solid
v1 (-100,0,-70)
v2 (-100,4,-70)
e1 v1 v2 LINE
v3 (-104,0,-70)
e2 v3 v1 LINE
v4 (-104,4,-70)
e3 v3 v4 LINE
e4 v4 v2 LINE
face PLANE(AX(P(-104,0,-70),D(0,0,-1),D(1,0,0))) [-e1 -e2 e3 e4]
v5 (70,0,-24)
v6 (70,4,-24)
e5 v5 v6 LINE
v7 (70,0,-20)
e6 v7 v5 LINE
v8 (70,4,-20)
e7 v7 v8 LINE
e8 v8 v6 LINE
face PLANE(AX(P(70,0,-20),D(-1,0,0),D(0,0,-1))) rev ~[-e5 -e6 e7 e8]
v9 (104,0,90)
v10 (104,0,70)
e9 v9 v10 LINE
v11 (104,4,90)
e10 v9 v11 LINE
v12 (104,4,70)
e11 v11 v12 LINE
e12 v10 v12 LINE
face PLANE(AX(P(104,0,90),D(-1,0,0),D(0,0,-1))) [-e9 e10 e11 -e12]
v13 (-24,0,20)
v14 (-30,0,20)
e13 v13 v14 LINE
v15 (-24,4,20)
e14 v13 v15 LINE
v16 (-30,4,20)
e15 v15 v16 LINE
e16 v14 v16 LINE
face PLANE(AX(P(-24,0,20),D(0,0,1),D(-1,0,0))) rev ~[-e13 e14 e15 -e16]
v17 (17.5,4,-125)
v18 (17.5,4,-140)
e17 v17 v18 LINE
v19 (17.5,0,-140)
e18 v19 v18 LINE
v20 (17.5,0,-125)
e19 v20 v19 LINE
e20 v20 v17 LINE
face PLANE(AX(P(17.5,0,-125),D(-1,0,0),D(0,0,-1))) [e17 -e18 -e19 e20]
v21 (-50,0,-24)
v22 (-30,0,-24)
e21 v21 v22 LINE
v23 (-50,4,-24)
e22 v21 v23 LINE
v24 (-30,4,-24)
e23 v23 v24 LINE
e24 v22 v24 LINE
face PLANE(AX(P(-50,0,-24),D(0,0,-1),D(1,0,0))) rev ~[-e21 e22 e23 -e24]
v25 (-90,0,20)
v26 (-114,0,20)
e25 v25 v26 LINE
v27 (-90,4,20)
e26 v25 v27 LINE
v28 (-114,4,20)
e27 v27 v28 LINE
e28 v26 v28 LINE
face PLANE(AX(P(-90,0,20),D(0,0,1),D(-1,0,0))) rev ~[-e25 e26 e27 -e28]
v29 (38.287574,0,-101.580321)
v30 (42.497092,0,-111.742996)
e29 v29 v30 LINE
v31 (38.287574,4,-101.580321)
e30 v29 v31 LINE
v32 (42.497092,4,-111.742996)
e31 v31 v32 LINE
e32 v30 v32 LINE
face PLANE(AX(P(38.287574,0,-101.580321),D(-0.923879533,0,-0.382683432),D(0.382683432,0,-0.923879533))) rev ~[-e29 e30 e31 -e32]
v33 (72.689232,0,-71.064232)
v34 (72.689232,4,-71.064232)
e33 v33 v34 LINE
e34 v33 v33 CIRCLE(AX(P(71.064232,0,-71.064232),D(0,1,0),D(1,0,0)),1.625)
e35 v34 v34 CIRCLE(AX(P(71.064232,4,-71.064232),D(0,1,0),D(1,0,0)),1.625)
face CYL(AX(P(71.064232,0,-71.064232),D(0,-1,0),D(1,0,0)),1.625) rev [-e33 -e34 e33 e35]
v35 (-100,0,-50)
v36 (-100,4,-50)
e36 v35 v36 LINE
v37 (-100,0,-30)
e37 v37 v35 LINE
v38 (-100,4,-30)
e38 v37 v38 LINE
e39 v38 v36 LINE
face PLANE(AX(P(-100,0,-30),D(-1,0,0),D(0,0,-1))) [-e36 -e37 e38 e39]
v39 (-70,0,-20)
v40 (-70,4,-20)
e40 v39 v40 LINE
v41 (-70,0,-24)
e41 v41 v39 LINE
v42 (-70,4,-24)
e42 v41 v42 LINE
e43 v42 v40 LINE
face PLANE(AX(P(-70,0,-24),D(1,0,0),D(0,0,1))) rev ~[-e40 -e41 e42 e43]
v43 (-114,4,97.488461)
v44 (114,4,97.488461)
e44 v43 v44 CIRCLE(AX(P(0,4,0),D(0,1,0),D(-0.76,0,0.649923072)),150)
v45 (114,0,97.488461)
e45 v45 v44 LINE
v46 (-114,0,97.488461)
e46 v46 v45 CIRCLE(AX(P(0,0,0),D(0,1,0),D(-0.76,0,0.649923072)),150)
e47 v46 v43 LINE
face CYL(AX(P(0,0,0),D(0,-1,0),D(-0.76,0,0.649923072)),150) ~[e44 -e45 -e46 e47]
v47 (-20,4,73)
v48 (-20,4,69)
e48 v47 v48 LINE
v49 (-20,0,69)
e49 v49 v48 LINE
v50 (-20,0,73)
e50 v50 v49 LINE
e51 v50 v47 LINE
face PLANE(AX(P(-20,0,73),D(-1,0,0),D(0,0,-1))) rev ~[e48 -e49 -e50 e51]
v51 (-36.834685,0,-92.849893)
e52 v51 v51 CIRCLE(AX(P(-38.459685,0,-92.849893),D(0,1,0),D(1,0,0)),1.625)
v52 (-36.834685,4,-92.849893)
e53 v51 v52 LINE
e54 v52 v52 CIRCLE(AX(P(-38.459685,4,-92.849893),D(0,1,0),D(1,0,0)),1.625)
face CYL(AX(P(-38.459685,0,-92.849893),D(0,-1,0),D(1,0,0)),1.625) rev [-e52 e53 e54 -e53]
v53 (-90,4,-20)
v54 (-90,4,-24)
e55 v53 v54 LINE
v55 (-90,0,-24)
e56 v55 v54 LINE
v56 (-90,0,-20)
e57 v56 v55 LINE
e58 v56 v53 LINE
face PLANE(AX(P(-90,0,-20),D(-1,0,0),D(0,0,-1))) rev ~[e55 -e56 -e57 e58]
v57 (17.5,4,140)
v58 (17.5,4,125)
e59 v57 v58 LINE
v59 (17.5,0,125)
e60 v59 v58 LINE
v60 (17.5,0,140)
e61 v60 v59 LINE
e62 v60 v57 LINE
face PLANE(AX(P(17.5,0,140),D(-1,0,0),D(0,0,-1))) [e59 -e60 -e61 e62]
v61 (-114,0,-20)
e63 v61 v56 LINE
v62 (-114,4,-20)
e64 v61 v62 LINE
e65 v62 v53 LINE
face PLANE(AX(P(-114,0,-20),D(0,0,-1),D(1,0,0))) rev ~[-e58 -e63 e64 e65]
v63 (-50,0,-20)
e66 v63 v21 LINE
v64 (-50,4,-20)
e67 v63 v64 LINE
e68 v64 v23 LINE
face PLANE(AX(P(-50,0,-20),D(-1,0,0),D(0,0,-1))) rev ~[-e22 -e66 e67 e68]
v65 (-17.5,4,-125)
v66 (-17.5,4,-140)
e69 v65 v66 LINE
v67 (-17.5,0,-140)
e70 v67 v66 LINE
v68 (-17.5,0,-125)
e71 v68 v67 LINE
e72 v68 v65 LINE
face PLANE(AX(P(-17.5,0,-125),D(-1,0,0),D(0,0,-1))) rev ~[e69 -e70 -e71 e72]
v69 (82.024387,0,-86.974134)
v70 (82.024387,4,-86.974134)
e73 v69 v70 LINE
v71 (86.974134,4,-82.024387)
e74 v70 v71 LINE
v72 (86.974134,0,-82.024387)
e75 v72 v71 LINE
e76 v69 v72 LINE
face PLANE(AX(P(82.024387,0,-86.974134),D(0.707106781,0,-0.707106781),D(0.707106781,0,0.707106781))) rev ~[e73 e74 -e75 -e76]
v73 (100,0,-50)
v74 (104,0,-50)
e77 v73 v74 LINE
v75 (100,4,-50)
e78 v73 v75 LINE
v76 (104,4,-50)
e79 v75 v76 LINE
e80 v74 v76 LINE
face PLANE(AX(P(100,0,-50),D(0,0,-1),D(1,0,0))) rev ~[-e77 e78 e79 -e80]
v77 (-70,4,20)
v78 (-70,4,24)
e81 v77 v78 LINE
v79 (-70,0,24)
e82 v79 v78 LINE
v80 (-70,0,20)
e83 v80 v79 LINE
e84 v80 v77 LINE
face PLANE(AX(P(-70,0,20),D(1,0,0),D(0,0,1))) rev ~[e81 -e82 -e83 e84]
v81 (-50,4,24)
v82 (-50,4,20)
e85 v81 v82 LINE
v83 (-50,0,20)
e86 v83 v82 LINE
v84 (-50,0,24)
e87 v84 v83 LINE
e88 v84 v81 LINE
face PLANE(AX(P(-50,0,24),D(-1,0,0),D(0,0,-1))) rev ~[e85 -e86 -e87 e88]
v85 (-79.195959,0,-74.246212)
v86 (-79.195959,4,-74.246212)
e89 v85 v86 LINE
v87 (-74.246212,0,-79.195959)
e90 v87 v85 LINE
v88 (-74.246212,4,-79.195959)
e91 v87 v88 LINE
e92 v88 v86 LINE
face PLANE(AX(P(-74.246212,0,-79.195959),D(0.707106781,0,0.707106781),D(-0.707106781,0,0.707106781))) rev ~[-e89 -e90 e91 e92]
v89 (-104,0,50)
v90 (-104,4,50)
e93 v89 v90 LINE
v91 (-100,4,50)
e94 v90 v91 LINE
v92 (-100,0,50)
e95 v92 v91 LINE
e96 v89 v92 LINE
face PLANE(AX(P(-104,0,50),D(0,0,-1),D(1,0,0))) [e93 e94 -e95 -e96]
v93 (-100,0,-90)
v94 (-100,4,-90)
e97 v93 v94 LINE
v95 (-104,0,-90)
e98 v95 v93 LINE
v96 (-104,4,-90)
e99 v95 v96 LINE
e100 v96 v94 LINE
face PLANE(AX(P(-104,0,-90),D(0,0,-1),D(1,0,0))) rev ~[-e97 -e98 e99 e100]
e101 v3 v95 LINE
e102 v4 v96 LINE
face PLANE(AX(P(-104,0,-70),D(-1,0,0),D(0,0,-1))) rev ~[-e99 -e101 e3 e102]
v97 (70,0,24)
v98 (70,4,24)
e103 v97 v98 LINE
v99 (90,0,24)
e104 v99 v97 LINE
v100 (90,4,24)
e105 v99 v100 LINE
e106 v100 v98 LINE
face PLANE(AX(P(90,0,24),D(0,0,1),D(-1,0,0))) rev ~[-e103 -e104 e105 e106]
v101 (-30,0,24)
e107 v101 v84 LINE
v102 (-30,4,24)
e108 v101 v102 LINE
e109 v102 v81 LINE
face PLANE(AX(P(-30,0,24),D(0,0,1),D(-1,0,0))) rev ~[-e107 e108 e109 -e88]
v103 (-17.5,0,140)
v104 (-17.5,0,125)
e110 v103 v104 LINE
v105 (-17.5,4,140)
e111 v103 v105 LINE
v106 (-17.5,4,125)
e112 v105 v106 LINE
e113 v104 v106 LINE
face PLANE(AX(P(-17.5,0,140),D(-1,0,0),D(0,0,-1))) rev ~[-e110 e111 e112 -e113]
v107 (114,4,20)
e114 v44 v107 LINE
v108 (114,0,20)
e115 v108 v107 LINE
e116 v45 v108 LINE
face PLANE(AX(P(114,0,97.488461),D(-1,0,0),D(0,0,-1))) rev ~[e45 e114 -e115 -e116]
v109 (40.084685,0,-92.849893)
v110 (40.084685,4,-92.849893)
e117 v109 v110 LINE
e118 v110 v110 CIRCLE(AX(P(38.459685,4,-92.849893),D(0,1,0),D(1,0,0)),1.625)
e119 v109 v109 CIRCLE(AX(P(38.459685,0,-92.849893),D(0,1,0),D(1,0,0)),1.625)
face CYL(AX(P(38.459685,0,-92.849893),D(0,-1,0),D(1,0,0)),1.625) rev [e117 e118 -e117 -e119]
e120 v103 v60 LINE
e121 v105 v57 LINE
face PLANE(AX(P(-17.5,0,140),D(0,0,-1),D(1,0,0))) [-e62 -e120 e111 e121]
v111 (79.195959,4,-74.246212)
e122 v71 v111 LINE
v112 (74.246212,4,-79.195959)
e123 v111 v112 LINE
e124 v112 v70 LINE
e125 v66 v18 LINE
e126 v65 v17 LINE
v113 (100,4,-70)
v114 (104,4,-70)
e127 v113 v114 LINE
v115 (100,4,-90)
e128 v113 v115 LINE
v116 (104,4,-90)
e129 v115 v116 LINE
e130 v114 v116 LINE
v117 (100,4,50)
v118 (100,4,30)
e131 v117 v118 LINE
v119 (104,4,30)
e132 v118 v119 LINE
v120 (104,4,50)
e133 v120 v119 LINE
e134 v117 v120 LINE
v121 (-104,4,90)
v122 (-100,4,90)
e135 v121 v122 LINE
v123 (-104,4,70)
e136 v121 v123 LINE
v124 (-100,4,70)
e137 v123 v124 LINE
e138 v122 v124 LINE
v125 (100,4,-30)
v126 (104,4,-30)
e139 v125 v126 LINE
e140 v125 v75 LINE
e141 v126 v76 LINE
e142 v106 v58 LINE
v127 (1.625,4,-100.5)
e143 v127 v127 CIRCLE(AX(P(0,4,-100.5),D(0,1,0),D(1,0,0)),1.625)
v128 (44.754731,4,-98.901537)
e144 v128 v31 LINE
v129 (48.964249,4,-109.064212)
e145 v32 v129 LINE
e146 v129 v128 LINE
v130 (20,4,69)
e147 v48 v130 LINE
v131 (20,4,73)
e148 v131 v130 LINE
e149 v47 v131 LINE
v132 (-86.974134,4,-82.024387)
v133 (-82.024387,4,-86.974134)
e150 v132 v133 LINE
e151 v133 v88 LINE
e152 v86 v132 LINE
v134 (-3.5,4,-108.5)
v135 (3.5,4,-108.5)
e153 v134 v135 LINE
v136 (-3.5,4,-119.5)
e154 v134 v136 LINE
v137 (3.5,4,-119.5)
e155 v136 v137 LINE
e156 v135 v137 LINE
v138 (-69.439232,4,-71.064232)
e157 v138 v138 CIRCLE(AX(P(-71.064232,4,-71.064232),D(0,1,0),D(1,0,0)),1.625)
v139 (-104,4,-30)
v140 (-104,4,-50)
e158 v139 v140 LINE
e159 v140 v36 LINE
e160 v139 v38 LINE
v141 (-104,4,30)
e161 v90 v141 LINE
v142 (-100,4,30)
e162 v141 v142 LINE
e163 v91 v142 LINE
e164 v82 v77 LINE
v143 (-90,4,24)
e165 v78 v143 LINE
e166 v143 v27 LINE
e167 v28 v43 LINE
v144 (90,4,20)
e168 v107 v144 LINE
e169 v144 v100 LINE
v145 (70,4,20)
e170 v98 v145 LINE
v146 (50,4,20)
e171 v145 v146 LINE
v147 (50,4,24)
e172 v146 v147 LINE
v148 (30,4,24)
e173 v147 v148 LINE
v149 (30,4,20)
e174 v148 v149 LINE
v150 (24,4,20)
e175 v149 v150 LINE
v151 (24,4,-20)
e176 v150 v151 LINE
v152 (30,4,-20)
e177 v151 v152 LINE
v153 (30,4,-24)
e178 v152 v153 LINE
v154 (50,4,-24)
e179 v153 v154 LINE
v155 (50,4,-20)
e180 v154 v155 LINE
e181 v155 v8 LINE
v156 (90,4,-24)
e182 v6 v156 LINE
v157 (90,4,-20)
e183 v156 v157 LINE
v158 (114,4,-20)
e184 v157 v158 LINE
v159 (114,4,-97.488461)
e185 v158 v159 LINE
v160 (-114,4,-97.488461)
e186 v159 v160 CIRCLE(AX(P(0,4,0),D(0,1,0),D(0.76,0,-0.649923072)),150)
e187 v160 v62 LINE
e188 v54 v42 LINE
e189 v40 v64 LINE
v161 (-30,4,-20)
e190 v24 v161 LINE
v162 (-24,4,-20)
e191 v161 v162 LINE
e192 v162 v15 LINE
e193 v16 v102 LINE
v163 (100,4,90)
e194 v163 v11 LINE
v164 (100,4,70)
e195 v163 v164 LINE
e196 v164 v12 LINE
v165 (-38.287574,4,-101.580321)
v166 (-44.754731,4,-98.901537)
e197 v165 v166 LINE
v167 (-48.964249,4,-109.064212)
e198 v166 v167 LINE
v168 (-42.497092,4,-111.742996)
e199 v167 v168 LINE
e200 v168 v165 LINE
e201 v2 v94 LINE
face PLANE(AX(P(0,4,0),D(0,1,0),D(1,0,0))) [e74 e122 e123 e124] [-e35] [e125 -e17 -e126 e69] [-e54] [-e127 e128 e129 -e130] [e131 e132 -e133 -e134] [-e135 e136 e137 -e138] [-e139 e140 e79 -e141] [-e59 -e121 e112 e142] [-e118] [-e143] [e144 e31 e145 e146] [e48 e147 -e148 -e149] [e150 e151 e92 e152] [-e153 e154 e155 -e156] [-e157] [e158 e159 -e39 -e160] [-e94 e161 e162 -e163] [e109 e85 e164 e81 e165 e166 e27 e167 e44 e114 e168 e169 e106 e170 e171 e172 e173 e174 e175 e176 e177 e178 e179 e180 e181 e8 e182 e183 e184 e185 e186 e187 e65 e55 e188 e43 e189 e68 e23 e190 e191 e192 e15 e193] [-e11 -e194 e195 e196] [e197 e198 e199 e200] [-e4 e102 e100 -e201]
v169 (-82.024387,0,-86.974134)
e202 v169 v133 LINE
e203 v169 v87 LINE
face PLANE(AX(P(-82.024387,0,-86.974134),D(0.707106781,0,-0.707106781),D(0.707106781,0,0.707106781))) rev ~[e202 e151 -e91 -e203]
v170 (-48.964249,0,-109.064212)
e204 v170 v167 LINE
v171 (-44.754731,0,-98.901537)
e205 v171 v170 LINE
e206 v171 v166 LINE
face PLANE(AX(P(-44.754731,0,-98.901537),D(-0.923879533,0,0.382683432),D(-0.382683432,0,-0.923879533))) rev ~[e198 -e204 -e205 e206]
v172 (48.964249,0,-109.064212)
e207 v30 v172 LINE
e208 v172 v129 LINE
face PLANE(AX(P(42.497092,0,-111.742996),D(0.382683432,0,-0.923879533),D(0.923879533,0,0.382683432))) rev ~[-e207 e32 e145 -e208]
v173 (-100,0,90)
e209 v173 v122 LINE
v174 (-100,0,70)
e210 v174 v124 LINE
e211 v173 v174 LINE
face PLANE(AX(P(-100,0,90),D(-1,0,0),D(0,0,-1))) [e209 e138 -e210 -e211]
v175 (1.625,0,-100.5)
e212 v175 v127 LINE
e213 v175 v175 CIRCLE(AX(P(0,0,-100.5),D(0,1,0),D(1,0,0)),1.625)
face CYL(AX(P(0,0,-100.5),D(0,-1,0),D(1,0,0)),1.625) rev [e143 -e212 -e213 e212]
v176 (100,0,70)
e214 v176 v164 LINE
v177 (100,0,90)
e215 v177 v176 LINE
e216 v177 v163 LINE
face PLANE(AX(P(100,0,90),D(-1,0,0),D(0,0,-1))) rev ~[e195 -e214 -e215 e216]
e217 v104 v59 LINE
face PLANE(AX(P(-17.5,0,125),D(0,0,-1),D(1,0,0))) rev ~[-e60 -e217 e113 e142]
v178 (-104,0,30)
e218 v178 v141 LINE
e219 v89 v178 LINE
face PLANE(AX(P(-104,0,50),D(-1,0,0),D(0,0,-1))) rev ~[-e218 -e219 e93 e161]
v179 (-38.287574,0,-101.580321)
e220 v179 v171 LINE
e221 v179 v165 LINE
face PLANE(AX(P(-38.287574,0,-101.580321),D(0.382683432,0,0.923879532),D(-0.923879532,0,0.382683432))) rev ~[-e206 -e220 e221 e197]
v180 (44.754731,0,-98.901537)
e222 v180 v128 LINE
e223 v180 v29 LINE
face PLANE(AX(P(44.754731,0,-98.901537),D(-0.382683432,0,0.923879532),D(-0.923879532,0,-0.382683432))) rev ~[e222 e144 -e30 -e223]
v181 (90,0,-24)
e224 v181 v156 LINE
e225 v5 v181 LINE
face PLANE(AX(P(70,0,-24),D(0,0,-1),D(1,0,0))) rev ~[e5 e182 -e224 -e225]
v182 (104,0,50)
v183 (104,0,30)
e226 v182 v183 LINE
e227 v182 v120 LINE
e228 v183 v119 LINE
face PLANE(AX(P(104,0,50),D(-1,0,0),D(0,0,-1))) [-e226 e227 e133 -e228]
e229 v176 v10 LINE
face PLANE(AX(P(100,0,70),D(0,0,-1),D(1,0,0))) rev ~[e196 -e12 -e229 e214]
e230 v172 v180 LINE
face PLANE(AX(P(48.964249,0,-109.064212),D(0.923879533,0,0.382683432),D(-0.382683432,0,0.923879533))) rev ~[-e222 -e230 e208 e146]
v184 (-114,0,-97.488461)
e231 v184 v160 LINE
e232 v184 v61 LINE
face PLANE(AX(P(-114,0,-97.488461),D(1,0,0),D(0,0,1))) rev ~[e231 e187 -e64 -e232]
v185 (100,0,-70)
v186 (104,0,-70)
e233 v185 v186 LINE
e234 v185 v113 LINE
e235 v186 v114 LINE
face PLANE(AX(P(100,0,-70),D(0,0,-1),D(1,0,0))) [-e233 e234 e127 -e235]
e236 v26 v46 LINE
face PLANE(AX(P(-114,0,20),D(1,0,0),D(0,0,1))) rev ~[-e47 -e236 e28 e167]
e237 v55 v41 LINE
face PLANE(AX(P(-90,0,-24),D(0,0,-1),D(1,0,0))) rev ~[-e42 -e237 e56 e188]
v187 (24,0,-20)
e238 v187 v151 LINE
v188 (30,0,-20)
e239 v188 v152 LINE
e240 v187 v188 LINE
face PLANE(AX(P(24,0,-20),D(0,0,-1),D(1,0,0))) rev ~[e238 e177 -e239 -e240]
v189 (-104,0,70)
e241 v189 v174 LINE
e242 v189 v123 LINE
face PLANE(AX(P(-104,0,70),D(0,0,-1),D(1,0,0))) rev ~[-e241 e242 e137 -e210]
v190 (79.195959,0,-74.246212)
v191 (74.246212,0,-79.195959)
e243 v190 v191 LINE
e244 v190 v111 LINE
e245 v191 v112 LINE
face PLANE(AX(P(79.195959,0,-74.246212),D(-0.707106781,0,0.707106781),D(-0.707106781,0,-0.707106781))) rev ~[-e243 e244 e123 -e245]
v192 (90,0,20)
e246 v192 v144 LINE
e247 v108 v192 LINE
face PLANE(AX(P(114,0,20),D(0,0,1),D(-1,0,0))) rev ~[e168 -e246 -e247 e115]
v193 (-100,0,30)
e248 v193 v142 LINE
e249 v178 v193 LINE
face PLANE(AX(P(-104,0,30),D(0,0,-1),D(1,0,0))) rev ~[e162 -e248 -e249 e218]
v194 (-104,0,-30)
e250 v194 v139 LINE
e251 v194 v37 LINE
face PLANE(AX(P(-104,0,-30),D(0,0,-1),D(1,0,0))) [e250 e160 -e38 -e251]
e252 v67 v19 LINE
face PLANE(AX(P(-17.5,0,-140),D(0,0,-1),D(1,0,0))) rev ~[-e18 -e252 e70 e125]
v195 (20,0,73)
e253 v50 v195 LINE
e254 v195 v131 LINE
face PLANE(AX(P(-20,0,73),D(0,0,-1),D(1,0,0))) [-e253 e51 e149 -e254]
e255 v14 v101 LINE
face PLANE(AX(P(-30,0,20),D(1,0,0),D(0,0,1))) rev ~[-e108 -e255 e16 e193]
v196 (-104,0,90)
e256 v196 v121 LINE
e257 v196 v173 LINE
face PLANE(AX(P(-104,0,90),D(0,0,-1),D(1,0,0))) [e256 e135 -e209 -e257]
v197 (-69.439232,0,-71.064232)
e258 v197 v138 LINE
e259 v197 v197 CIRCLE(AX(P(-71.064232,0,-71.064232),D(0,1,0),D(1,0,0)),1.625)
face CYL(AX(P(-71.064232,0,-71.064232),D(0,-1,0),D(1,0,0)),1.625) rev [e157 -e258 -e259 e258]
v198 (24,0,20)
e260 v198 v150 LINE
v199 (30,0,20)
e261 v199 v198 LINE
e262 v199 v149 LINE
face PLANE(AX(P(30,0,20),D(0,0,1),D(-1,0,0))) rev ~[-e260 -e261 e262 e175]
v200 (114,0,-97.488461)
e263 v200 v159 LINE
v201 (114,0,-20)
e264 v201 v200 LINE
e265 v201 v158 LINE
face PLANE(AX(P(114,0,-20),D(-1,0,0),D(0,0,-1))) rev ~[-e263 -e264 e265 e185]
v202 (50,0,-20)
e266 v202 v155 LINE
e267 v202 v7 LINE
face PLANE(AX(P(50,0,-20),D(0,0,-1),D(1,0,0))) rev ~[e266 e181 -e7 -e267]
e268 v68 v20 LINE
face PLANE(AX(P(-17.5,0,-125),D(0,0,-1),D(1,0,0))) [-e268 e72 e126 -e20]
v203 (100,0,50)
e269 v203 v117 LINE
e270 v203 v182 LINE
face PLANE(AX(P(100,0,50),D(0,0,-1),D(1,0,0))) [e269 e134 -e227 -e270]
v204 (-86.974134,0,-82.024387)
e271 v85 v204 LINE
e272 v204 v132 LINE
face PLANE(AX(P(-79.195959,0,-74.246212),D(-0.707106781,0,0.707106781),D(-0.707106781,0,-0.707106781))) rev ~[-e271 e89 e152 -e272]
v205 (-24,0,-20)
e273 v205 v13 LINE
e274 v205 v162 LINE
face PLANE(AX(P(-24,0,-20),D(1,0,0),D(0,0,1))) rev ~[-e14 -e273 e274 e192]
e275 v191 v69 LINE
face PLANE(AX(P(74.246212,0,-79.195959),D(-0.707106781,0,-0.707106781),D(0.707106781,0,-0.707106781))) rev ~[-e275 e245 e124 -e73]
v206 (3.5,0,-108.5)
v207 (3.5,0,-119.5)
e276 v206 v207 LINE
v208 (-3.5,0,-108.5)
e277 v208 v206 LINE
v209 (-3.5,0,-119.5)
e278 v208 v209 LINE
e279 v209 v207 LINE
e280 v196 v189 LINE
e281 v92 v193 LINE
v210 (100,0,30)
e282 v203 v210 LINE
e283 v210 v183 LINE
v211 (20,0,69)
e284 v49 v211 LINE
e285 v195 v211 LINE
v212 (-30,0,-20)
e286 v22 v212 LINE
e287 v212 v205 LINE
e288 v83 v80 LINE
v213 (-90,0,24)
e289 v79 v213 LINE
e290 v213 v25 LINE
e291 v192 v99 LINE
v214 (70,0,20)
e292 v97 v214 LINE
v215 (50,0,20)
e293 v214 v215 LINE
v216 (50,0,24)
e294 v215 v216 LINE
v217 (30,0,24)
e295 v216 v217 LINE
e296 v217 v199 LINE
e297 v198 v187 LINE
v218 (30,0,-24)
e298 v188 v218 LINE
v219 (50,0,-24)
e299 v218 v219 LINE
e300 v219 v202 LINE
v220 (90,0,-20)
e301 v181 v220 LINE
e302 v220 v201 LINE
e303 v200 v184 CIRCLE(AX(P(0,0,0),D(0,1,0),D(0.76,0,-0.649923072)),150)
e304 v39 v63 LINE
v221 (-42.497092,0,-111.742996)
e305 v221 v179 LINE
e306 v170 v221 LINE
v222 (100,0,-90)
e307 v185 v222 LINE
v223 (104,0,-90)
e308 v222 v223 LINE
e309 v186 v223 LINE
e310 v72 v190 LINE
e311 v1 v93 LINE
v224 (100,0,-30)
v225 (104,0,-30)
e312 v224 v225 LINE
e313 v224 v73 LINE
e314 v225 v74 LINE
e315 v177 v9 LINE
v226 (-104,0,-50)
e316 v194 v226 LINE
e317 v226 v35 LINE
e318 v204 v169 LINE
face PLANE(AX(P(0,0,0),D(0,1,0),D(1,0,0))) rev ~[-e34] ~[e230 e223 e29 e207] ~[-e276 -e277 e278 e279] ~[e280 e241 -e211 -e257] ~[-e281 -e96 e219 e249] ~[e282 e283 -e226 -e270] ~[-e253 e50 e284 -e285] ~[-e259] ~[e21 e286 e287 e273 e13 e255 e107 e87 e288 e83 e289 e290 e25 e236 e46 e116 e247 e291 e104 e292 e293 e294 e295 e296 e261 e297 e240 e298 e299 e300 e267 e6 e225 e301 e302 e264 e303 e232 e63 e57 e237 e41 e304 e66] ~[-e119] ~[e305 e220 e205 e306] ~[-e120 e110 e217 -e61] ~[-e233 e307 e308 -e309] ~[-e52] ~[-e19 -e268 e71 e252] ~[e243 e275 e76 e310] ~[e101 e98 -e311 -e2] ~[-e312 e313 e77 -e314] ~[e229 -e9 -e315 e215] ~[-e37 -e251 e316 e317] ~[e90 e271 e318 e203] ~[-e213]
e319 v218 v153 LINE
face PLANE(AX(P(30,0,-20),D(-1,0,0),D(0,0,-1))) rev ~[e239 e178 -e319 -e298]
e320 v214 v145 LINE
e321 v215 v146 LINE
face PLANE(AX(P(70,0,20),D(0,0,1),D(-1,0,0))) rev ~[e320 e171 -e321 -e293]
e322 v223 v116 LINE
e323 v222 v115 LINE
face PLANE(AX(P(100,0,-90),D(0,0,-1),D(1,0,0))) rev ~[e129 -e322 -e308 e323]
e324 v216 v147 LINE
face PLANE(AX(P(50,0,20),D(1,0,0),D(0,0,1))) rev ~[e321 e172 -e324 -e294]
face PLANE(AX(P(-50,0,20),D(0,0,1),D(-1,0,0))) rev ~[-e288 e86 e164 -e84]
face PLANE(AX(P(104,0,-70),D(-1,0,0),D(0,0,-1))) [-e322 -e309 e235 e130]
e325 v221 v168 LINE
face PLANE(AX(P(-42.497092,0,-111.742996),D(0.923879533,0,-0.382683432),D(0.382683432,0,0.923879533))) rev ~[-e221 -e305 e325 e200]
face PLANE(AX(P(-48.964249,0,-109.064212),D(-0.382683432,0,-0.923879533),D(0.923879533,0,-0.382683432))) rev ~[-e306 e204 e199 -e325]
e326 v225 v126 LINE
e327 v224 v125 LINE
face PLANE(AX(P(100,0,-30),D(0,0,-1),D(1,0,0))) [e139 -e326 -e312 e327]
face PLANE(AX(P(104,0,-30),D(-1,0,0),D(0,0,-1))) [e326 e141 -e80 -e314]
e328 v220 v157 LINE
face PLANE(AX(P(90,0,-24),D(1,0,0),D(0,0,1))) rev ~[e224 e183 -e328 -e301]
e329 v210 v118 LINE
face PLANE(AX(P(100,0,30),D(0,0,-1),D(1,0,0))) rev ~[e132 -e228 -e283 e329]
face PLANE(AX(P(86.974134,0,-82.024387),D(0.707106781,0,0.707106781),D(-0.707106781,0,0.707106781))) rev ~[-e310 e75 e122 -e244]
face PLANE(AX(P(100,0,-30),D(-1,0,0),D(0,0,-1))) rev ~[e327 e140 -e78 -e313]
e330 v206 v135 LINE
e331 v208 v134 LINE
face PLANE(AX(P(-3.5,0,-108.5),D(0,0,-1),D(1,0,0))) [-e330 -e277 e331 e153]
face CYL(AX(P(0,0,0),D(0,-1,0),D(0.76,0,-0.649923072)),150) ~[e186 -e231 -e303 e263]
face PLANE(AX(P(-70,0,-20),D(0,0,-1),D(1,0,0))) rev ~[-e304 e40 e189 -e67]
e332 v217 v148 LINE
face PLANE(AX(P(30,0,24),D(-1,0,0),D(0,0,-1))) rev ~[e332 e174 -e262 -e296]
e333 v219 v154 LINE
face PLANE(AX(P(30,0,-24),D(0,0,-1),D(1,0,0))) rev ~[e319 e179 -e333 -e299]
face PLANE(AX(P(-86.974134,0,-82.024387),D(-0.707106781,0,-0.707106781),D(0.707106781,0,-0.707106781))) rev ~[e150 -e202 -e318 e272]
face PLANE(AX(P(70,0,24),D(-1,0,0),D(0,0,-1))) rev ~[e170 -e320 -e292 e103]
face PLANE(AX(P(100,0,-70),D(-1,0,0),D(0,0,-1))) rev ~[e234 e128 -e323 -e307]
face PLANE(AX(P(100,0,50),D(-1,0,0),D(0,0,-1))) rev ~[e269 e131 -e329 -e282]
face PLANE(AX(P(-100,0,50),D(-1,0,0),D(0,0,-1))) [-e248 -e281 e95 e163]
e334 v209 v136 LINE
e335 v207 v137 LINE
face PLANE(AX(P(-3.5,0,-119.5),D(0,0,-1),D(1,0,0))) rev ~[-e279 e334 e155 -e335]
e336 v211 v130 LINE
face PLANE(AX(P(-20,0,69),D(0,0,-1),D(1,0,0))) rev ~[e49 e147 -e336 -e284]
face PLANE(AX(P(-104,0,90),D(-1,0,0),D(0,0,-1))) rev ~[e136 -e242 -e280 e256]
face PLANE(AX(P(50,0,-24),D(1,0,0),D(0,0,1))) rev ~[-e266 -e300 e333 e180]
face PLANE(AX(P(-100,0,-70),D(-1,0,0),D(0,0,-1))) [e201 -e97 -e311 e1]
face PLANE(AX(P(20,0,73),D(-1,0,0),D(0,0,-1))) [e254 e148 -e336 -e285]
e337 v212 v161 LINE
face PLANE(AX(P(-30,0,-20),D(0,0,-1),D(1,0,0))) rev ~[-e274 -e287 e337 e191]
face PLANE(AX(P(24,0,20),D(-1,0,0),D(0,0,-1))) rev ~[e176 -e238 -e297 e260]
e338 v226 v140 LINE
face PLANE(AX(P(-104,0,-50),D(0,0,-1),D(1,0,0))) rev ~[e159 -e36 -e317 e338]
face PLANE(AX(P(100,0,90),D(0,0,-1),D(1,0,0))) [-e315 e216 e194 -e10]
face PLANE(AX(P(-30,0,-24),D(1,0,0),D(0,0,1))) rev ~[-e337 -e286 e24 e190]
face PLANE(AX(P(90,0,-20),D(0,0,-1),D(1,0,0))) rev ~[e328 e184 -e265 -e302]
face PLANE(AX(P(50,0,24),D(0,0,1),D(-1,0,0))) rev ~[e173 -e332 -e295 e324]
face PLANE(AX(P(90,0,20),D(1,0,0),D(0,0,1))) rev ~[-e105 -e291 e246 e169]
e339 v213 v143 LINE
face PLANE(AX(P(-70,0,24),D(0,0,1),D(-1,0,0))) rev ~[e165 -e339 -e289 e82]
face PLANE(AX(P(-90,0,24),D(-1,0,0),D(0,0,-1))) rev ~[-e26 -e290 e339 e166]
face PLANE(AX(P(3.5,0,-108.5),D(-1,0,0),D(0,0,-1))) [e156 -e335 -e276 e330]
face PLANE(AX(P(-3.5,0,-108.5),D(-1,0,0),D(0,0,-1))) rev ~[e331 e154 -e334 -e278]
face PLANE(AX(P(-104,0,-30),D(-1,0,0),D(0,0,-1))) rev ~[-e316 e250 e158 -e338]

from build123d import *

# Parameters (mm, degrees)
SKICA1_W                = 35
SKICA1_H                = 15
SKICA1_W_2              = 40
SKICA1_H_2              = 4
SKICA1_R                = 1.625
SKICA1_W_3              = 7
SKICA1_H_3              = 11
SKICA1_W_4              = 4
SKICA1_H_4              = 20
P_IDAT_VYSUNUT_M1_DEPTH = 4


with BuildPart() as part:
    # Skica1 → Přidat vysunutím1 (new body)
    with BuildSketch(Plane(origin=(0, 0, 0), x_dir=(1, 0, 0), z_dir=(0, 1, 0))):
        with BuildLine():
            Line((-114, 97.488460856), (-114, 20))
            Line((-114, 20), (-90, 20))
            Line((-90, 20), (-90, 24))
            Line((-90, 24), (-70, 24))
            Line((-70, 24), (-70, 20))
            Line((-70, 20), (-50, 20))
            Line((-50, 20), (-50, 24))
            Line((-50, 24), (-30, 24))
            Line((-30, 24), (-30, 20))
            Line((-30, 20), (-24, 20))
            Line((-24, 20), (-24, -20))
            Line((-24, -20), (-30, -20))
            Line((-30, -20), (-30, -24))
            Line((-30, -24), (-50, -24))
            Line((-50, -24), (-50, -20))
            Line((-50, -20), (-70, -20))
            Line((-70, -20), (-70, -24))
            Line((-70, -24), (-90, -24))
            Line((-90, -24), (-90, -20))
            Line((-90, -20), (-114, -20))
            Line((-114, -20), (-114, -97.488460856))
            ThreePointArc((-114, -97.488460856), (0, -150), (114, -97.488460856))
            Line((114, -97.488460856), (114, -20))
            Line((114, -20), (90, -20))
            Line((90, -20), (90, -24))
            Line((90, -24), (70, -24))
            Line((70, -24), (70, -20))
            Line((70, -20), (50, -20))
            Line((50, -20), (50, -24))
            Line((50, -24), (30, -24))
            Line((30, -24), (30, -20))
            Line((30, -20), (24, -20))
            Line((24, -20), (24, 20))
            Line((24, 20), (30, 20))
            Line((30, 20), (30, 24))
            Line((30, 24), (50, 24))
            Line((50, 24), (50, 20))
            Line((50, 20), (70, 20))
            Line((70, 20), (70, 24))
            Line((70, 24), (90, 24))
            Line((90, 24), (90, 20))
            Line((90, 20), (114, 20))
            Line((114, 20), (114, 97.488460856))
            ThreePointArc((114, 97.488460856), (0, 150), (-114, 97.488460856))
        make_face()
        with Locations((0, -132.5)):
            Rectangle(SKICA1_W, SKICA1_H, mode=Mode.SUBTRACT)
        with Locations((0, -71)):
            Rectangle(SKICA1_W_2, SKICA1_H_2, mode=Mode.SUBTRACT)
        with Locations((0, 100.5)):
            Circle(SKICA1_R, mode=Mode.SUBTRACT)
        with Locations((0, 114)):
            Rectangle(SKICA1_W_3, SKICA1_H_3, mode=Mode.SUBTRACT)
        with Locations((0, 132.5)):
            Rectangle(SKICA1_W, SKICA1_H, mode=Mode.SUBTRACT)
        with Locations((-102, 40)):
            Rectangle(SKICA1_W_4, SKICA1_H_4, mode=Mode.SUBTRACT)
        with Locations((-71.064231509, 71.064231509)):
            Circle(SKICA1_R, mode=Mode.SUBTRACT)
        with Locations((-102, 80)):
            Rectangle(SKICA1_W_4, SKICA1_H_4, mode=Mode.SUBTRACT)
        Polygon((-86.974134086, 82.024386618), (-82.024386618, 86.974134086), (-74.246212025, 79.195959493), (-79.195959493, 74.246212025), align=None, mode=Mode.SUBTRACT)
        Polygon((-48.964248531, 109.064212122), (-42.497091804, 111.742996148), (-38.287574048, 101.580321291), (-44.754730775, 98.901537264), align=None, mode=Mode.SUBTRACT)
        with Locations((-38.459684953, 92.849893017)):
            Circle(SKICA1_R, mode=Mode.SUBTRACT)
        with Locations((-102, -40)):
            Rectangle(SKICA1_W_4, SKICA1_H_4, mode=Mode.SUBTRACT)
        with Locations((-102, -80)):
            Rectangle(SKICA1_W_4, SKICA1_H_4, mode=Mode.SUBTRACT)
        with Locations((102, 80)):
            Rectangle(SKICA1_W_4, SKICA1_H_4, mode=Mode.SUBTRACT)
        with Locations((71.064231509, 71.064231509)):
            Circle(SKICA1_R, mode=Mode.SUBTRACT)
        with Locations((102, 40)):
            Rectangle(SKICA1_W_4, SKICA1_H_4, mode=Mode.SUBTRACT)
        with Locations((38.459684953, 92.849893017)):
            Circle(SKICA1_R, mode=Mode.SUBTRACT)
        Polygon((82.024386618, 86.974134086), (86.974134086, 82.024386618), (79.195959493, 74.246212025), (74.246212025, 79.195959493), align=None, mode=Mode.SUBTRACT)
        Polygon((42.497091804, 111.742996148), (48.964248531, 109.064212122), (44.754730775, 98.901537264), (38.287574048, 101.580321291), align=None, mode=Mode.SUBTRACT)
        with Locations((102, -40)):
            Rectangle(SKICA1_W_4, SKICA1_H_4, mode=Mode.SUBTRACT)
        with Locations((102, -80)):
            Rectangle(SKICA1_W_4, SKICA1_H_4, mode=Mode.SUBTRACT)
    extrude(amount=P_IDAT_VYSUNUT_M1_DEPTH)


solid = part.part
